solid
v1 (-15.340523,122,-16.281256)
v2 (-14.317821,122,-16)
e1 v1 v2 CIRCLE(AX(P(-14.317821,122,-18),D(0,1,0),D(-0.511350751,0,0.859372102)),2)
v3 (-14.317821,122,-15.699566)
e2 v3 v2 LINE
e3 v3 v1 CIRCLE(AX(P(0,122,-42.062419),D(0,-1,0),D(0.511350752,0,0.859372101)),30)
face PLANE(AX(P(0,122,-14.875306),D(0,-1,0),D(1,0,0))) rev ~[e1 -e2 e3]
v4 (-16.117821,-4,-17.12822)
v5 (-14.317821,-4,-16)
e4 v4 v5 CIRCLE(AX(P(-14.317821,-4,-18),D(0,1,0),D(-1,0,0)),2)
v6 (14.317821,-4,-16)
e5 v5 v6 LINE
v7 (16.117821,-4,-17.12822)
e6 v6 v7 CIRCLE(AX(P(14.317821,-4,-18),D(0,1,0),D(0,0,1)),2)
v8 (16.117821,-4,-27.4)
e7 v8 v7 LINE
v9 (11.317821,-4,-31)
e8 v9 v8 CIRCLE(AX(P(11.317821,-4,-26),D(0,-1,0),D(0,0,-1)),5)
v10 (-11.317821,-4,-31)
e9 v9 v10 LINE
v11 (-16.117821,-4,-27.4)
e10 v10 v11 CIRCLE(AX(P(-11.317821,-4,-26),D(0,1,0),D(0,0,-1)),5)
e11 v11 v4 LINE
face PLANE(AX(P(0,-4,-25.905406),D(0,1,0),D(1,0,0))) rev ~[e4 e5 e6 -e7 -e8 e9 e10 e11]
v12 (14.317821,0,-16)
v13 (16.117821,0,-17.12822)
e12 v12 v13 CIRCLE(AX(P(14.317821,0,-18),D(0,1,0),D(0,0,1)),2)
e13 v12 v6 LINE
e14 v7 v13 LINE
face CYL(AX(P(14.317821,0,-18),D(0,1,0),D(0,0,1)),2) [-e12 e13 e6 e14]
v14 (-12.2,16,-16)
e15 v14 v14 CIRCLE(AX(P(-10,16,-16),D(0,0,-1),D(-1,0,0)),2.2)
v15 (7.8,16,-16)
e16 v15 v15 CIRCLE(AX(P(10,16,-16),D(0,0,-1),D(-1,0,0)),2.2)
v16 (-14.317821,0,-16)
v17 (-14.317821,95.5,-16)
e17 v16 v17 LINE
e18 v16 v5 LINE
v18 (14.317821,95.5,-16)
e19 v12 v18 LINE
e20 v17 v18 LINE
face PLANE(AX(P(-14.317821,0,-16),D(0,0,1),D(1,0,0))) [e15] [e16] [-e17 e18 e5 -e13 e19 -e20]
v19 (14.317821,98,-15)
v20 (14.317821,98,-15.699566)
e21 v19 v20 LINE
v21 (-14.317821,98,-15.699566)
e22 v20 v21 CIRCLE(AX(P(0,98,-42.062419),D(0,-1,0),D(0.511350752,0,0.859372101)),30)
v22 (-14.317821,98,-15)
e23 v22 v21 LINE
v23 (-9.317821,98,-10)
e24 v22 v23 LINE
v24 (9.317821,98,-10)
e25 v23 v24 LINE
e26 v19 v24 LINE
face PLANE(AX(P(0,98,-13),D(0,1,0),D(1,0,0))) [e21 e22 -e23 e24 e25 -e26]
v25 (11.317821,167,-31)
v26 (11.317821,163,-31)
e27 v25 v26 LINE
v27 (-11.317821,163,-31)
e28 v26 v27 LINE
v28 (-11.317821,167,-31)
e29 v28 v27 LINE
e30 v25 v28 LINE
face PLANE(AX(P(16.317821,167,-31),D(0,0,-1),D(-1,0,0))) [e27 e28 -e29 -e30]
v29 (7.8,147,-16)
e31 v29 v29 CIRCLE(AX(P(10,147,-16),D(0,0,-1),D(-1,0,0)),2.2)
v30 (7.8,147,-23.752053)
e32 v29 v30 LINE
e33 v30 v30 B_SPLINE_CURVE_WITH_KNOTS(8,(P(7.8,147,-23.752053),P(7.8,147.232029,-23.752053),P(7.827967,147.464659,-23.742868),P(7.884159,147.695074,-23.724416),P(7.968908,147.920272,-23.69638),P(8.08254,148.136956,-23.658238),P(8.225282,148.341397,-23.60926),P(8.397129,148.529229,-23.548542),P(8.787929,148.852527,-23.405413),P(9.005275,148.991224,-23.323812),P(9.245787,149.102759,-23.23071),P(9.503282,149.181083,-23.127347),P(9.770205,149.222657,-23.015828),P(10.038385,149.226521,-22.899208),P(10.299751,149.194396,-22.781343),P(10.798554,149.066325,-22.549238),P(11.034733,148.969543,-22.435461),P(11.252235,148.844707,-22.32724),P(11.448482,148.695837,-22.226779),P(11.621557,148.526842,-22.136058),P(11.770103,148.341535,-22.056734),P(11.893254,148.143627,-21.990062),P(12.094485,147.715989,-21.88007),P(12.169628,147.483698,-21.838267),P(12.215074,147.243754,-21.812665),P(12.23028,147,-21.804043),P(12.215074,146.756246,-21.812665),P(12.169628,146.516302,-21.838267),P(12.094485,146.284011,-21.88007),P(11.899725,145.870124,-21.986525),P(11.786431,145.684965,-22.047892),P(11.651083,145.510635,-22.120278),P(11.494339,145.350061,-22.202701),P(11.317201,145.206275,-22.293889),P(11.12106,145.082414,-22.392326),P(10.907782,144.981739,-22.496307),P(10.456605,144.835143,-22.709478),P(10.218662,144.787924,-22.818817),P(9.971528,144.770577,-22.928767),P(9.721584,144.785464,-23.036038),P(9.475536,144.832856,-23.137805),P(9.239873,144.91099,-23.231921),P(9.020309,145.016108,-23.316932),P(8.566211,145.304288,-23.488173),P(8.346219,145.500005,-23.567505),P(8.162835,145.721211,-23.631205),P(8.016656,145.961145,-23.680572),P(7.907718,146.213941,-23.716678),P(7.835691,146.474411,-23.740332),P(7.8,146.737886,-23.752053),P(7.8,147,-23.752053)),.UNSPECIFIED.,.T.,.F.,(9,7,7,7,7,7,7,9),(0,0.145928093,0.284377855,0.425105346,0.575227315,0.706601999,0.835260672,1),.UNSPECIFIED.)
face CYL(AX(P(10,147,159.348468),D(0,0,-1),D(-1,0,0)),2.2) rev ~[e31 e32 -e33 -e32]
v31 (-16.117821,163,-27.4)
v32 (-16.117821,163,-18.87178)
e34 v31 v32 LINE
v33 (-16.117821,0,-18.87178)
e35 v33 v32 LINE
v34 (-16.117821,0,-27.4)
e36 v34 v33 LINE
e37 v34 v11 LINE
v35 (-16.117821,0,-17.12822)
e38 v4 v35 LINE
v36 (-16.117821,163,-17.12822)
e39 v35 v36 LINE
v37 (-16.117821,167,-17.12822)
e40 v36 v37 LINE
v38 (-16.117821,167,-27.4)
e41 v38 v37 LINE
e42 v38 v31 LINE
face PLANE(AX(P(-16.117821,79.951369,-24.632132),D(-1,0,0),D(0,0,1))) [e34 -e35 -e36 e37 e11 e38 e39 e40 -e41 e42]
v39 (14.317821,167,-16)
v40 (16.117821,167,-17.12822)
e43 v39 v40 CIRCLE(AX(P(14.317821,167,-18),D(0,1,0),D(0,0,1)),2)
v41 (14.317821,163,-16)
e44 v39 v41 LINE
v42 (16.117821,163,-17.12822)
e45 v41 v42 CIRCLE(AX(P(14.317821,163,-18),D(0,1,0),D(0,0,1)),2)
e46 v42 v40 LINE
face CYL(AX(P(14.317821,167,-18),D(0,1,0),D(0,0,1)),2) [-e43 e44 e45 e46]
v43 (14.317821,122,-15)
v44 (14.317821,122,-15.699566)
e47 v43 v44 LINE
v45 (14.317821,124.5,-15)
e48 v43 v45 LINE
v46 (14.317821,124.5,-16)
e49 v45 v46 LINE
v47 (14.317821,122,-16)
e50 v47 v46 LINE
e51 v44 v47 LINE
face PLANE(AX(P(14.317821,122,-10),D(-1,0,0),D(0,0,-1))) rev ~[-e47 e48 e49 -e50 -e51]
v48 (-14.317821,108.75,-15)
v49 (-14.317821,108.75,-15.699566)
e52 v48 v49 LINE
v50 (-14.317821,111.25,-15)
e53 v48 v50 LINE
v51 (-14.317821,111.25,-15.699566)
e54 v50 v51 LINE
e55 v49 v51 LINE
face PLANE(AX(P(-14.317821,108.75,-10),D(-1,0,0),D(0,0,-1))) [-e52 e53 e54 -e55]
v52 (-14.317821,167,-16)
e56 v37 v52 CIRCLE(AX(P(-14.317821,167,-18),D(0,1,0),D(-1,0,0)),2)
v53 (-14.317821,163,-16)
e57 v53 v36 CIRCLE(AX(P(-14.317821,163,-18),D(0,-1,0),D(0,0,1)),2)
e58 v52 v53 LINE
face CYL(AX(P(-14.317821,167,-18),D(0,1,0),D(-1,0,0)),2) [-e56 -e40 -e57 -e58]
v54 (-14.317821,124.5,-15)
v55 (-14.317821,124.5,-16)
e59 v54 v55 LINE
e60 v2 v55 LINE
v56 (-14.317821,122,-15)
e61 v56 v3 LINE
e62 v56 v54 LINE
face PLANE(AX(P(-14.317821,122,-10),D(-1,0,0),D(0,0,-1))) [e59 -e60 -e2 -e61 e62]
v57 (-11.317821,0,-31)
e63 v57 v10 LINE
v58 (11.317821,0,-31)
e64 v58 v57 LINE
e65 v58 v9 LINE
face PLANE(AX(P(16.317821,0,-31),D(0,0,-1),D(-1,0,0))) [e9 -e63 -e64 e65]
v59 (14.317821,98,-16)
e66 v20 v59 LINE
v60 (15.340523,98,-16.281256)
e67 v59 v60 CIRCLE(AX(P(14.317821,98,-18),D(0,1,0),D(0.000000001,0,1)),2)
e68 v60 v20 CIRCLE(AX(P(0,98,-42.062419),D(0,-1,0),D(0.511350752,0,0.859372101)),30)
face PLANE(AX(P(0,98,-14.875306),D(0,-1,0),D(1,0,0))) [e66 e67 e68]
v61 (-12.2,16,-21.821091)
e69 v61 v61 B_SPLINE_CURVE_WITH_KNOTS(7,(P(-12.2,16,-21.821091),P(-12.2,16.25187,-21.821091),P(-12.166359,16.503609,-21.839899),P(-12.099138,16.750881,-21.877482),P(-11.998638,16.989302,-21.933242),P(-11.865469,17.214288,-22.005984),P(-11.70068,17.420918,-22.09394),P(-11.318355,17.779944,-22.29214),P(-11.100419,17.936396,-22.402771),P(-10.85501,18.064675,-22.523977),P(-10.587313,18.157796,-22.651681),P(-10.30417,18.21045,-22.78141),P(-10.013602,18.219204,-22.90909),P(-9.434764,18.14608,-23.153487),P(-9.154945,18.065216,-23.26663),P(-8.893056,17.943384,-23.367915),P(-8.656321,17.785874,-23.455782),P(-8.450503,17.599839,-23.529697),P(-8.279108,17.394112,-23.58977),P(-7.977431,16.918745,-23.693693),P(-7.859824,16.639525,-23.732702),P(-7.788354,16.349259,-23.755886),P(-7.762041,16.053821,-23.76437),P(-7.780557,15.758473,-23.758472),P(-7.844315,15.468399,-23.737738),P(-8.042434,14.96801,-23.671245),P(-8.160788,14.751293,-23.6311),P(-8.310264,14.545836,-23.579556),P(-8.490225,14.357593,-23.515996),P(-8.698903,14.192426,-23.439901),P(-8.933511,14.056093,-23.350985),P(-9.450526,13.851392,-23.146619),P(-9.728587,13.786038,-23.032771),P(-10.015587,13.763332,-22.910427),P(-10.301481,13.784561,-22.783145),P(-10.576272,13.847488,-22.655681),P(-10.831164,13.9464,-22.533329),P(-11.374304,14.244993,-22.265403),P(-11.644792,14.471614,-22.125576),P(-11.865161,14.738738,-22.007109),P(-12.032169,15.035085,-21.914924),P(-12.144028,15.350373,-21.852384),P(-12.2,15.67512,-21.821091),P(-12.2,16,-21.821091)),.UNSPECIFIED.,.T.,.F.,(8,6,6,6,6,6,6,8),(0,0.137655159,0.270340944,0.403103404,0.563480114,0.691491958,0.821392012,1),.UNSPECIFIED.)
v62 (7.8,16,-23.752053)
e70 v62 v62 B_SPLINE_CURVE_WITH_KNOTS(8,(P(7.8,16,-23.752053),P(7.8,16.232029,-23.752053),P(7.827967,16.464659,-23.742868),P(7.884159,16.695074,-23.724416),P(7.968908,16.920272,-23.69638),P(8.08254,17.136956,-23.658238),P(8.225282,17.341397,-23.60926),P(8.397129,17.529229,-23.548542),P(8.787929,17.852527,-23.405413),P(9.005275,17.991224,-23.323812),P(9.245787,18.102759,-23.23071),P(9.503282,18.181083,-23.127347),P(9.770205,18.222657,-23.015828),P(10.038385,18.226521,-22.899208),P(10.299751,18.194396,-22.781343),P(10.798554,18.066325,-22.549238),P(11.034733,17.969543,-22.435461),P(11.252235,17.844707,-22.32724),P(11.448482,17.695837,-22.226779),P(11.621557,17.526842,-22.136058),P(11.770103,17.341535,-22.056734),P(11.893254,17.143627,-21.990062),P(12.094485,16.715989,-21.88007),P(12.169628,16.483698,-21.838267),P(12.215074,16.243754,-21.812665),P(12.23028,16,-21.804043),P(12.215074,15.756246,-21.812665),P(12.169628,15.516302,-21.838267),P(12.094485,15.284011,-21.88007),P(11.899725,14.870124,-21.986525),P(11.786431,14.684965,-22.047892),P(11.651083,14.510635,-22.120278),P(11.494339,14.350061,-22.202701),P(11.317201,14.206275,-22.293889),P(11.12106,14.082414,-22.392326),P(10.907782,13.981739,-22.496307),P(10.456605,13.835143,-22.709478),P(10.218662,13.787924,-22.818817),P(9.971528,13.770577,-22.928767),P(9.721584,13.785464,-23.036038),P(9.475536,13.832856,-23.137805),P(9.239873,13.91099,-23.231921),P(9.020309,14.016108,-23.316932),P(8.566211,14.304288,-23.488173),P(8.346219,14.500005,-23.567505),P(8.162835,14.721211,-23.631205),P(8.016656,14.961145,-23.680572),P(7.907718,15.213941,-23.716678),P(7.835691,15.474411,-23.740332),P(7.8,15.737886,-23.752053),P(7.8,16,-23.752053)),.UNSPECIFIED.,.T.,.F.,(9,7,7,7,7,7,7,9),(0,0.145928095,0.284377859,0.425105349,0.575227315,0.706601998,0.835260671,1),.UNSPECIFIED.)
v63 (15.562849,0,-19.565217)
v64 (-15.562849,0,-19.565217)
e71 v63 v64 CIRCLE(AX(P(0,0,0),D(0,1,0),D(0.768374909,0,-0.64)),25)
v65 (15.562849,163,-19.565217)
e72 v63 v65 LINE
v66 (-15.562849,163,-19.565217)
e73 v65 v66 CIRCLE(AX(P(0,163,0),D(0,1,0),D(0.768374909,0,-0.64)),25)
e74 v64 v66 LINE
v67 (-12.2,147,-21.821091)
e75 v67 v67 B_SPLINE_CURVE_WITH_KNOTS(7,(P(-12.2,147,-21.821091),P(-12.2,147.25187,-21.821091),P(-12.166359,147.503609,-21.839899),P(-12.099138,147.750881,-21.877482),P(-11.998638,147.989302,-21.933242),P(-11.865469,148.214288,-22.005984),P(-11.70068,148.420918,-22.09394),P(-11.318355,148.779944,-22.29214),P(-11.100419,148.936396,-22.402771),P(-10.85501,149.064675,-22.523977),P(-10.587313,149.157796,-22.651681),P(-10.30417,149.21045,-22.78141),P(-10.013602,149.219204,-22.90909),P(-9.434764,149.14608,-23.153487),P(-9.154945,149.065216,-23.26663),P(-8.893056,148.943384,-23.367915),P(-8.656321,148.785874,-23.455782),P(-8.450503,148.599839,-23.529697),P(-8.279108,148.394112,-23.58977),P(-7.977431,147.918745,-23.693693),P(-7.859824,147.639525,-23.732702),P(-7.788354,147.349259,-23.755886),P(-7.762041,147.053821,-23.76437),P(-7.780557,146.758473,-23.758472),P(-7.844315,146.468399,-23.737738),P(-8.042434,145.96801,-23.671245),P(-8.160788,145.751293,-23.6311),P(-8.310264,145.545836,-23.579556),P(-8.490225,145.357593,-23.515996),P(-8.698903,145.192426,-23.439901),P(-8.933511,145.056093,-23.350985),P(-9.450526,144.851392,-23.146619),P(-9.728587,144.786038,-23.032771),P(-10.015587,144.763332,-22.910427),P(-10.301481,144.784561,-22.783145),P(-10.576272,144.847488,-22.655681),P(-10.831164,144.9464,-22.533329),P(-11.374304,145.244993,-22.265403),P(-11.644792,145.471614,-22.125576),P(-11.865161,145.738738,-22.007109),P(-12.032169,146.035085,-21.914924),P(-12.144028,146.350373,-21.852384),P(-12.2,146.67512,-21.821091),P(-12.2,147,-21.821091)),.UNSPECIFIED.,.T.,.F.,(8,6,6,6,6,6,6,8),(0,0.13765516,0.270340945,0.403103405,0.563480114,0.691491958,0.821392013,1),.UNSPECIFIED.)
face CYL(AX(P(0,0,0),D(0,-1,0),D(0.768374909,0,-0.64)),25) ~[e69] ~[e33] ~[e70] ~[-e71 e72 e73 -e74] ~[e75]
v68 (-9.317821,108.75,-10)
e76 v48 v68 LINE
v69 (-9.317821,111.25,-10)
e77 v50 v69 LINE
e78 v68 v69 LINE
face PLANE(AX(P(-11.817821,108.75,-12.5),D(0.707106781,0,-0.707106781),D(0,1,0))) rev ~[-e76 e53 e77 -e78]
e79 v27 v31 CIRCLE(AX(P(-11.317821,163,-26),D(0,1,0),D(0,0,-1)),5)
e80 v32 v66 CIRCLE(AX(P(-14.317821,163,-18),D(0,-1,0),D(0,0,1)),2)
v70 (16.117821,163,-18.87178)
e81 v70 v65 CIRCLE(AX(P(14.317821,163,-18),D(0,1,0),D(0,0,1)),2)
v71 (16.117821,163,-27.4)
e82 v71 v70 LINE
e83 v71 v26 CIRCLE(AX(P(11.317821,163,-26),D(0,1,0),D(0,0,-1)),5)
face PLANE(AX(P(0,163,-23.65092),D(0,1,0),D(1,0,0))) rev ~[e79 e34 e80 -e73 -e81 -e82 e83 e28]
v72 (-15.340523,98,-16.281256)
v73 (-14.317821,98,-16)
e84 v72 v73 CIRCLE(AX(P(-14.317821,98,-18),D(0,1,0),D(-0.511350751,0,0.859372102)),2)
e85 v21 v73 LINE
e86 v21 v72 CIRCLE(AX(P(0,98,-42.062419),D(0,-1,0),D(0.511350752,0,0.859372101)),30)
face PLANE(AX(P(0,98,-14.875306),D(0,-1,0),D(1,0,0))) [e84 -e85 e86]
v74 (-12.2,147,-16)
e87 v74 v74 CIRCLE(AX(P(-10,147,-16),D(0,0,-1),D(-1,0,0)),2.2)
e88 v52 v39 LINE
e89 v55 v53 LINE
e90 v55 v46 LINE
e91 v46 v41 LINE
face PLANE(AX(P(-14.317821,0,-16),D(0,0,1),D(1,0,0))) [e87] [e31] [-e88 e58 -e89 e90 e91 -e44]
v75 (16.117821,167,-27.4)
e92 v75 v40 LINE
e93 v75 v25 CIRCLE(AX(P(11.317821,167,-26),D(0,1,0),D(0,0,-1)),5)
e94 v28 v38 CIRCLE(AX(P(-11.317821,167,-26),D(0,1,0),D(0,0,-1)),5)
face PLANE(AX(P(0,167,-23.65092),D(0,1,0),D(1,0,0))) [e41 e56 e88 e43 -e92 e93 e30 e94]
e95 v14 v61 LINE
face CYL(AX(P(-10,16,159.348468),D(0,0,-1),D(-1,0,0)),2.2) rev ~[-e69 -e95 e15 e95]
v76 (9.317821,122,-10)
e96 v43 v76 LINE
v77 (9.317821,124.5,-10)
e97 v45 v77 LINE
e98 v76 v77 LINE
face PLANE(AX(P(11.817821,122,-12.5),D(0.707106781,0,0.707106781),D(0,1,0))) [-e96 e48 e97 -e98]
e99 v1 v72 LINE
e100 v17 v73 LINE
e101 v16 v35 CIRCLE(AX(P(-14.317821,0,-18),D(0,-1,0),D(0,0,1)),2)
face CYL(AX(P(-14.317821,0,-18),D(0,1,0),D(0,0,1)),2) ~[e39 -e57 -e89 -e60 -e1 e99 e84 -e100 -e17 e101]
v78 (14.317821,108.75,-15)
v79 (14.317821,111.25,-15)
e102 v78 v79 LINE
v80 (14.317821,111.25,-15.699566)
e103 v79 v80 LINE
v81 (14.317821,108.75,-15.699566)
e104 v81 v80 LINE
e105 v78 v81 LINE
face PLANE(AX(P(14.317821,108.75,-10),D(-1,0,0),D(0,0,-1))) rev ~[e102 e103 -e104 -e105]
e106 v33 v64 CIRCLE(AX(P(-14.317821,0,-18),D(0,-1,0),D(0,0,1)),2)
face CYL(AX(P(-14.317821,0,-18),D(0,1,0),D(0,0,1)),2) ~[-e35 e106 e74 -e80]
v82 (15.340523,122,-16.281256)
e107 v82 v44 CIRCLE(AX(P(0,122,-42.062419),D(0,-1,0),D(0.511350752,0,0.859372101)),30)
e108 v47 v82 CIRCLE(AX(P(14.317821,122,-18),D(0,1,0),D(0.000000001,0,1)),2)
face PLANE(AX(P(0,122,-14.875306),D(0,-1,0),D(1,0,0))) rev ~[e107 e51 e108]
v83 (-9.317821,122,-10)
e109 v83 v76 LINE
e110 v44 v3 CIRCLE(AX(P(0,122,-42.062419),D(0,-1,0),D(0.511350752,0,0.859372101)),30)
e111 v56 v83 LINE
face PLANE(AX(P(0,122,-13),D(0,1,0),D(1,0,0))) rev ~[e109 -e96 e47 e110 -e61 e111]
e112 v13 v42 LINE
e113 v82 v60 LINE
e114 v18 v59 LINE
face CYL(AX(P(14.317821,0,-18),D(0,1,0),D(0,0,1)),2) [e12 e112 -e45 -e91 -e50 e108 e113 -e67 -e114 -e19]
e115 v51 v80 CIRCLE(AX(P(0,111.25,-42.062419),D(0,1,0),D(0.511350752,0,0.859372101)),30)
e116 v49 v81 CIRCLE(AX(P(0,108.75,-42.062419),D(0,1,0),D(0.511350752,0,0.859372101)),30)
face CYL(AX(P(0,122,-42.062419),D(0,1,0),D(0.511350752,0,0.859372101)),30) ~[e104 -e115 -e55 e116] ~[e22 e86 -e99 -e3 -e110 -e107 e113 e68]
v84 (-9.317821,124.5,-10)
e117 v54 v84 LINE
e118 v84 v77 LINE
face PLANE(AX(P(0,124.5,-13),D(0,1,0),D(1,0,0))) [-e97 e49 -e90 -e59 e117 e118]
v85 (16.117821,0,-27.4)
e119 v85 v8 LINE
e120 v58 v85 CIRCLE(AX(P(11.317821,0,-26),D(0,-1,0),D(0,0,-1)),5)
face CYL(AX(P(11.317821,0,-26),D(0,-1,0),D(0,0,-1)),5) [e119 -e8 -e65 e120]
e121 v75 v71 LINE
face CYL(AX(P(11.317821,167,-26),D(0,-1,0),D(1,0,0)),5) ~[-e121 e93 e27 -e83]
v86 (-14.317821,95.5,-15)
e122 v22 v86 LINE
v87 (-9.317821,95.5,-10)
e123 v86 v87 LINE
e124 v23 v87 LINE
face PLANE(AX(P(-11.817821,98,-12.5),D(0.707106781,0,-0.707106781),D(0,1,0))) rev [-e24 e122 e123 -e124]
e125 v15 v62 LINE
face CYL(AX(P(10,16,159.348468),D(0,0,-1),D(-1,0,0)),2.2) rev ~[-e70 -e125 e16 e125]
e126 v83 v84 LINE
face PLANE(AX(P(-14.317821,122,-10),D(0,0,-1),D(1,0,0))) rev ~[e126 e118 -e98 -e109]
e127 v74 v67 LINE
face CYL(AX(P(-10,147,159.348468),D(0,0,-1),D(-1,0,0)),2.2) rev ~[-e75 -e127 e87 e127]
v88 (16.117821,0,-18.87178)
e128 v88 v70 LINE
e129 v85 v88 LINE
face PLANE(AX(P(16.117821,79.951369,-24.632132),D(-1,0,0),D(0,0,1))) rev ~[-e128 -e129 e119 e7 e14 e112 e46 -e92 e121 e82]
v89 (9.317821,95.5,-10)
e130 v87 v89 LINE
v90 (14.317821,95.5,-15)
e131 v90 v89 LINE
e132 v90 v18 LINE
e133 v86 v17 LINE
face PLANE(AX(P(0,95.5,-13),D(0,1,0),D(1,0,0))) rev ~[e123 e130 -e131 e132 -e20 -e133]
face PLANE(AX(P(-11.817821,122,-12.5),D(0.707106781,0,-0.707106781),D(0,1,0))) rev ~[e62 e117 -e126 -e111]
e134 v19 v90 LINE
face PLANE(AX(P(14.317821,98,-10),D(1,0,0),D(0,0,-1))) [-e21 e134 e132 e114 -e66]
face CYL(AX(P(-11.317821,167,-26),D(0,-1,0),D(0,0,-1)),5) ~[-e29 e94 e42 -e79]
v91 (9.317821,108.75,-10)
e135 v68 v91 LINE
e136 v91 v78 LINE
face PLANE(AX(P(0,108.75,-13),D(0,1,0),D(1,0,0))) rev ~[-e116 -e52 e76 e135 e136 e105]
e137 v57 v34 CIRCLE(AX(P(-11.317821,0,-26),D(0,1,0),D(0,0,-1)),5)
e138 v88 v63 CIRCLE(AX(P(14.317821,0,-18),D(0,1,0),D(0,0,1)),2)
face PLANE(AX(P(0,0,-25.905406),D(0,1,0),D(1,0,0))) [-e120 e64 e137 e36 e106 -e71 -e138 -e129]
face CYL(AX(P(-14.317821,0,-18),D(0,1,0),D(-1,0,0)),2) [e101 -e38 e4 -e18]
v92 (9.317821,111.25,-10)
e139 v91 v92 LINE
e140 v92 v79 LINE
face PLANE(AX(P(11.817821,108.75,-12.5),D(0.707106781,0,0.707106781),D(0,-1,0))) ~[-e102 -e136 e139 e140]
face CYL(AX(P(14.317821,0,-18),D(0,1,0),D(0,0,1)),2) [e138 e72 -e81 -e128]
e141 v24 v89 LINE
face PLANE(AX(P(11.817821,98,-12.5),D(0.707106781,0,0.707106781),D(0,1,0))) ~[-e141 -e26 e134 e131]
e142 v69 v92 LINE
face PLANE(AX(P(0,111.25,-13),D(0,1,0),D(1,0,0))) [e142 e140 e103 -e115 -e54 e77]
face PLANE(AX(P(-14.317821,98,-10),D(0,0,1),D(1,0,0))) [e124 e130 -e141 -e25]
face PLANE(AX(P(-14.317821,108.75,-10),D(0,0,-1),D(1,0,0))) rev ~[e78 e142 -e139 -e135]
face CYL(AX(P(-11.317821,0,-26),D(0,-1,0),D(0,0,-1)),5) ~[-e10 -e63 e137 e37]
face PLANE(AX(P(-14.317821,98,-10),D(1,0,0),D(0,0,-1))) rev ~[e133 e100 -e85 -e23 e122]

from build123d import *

# Parameters (mm, degrees)
BOSS_EXTRUDE1_DEPTH        = 163
FILLET1_R                  = 2
BOSS_EXTRUDE3_START        = 4
BOSS_EXTRUDE3_DEPTH        = 4
BOSS_EXTRUDE4_START        = -163
BOSS_EXTRUDE4_DEPTH        = 4
FILLET2_R                  = 5
BOSS_EXTRUDE5_START        = -126
BOSS_EXTRUDE5_DEPTH        = 24
SKETCH4_W                  = 28.635642126
SKETCH4_H                  = 6
BOSS_EXTRUDE6_DEPTH        = 2.5
BOSS_EXTRUDE7_START        = -24
SKETCH4_2_W                = 28.635642126
SKETCH4_2_H                = 6
BOSS_EXTRUDE7_DEPTH        = 2.5
BOSS_EXTRUDE8_DEPTH        = 1.25
BOSS_EXTRUDE8_DEPTH_BACK   = 1.25
BOSS_EXTRUDE8_START        = -12
SKETCH4_3_W                = 28.635642126
SKETCH4_3_H                = 6
CHAMFER1_SIZE              = 5
F_4_4_4_4_DIAMETER_HOLE1_D = 4.4
SKETCH7_W                  = 27.737228758
SKETCH7_H                  = 178.87682219
CUT_EXTRUDE1_DEPTH         = 0.2
CUT_EXTRUDE2_START         = -32.635642
SKETCH7_2_W                = 27.737228758
SKETCH7_2_H                = 178.87682219
CUT_EXTRUDE2_DEPTH         = 0.2


with BuildPart() as part:
    # Sketch1 → Boss-Extrude1 (new body)
    with BuildSketch(Plane(origin=(0, 0, 0), x_dir=(1, 0, 0), z_dir=(0, 1, 0))):
        with BuildLine():
            Line((-19.209372712, 16), (19.209372712, 16))
            ThreePointArc((19.209372712, 16), (0, 25), (-19.209372712, 16))
        make_face()
    extrude(amount=BOSS_EXTRUDE1_DEPTH)

    # Fillet1
    fillet1_edges = [part.edges().sort_by_distance(p)[0] for p in [
        (19.209372712, 81.5, -16),
        (-19.209372712, 81.5, -16),
    ]]
    fillet(fillet1_edges, radius=FILLET1_R)

    # Sketch2 → Boss-Extrude3 (add)
    with BuildSketch(Plane(origin=(0, 163, 0), x_dir=(1, 0, 0), z_dir=(0, 1, 0)).offset(BOSS_EXTRUDE3_START)):
        with BuildLine():
            Line((-16.317821063, 31), (-16.317821063, 18))
            ThreePointArc((-16.317821063, 18), (-15.732034626, 16.585786438), (-14.317821063, 16))
            Line((-14.317821063, 16), (14.317821063, 16))
            ThreePointArc((14.317821063, 16), (15.732034626, 16.585786438), (16.317821063, 18))
            Line((16.317821063, 18), (16.317821063, 31))
            Line((16.317821063, 31), (-16.317821063, 31))
        make_face()
    extrude(amount=-BOSS_EXTRUDE3_DEPTH)

    # Sketch2<2> → Boss-Extrude4 (add)
    with BuildSketch(Plane(origin=(0, 163, 0), x_dir=(1, 0, 0), z_dir=(0, 1, 0)).offset(BOSS_EXTRUDE4_START)):
        with BuildLine():
            Line((16.317821063, 31), (-16.317821063, 31))
            Line((-16.317821063, 31), (-16.317821063, 18))
            ThreePointArc((-16.317821063, 18), (-16.119217166, 18.868891294), (-15.562848982, 19.565217391))
            ThreePointArc((-15.562848982, 19.565217391), (0, 25), (15.562848982, 19.565217391))
            ThreePointArc((15.562848982, 19.565217391), (16.119217166, 18.868891294), (16.317821063, 18))
            Line((16.317821063, 18), (16.317821063, 31))
        make_face()
        with BuildLine():
            ThreePointArc((-15.562848982, 19.565217391), (-16.119217166, 18.868891294), (-16.317821063, 18))
            ThreePointArc((-16.317821063, 18), (-15.732034626, 16.585786438), (-14.317821063, 16))
            Line((-14.317821063, 16), (14.317821063, 16))
            ThreePointArc((14.317821063, 16), (15.732034626, 16.585786438), (16.317821063, 18))
            ThreePointArc((16.317821063, 18), (16.119217166, 18.868891294), (15.562848982, 19.565217391))
            ThreePointArc((15.562848982, 19.565217391), (0, 25), (-15.562848982, 19.565217391))
        make_face()
    extrude(amount=-BOSS_EXTRUDE4_DEPTH)

    # Fillet2
    fillet2_edges = [part.edges().sort_by_distance(p)[0] for p in [
        (16.317821063, 165, -31),
        (-16.317821063, 165, -31),
        (16.317821063, -2, -31),
        (-16.317821063, -2, -31),
    ]]
    fillet(fillet2_edges, radius=FILLET2_R)

    # Sketch3 → Boss-Extrude5 (add)
    with BuildSketch(Plane.XZ.offset(4).offset(BOSS_EXTRUDE5_START)):
        with BuildLine():
            ThreePointArc((15.340522568, -16.281255798), (0, -12.062418831), (-15.340522568, -16.281255798))
            ThreePointArc((-15.340522568, -16.281255798), (-14.848156615, -16.071595426), (-14.317821063, -16))
            Line((-14.317821063, -16), (14.317821063, -16))
            ThreePointArc((14.317821063, -16), (14.848156615, -16.071595426), (15.340522568, -16.281255798))
        make_face()
    extrude(amount=BOSS_EXTRUDE5_DEPTH)

    # Sketch4 → Boss-Extrude6 (add)
    with BuildSketch(Plane(origin=(0, 122, 0), x_dir=(1, 0, 0), z_dir=(0, 1, 0))):
        with Locations((0, 13)):
            Rectangle(SKETCH4_W, SKETCH4_H)
    extrude(amount=BOSS_EXTRUDE6_DEPTH)

    # Sketch4<2> → Boss-Extrude7 (add)
    with BuildSketch(Plane(origin=(0, 122, 0), x_dir=(1, 0, 0), z_dir=(0, 1, 0)).offset(BOSS_EXTRUDE7_START)):
        with Locations((0, 13)):
            Rectangle(SKETCH4_2_W, SKETCH4_2_H)
    extrude(amount=-BOSS_EXTRUDE7_DEPTH)

    # Sketch4<3> → Boss-Extrude8 (add, two sides: drawn at the far end of the back side and taken through both)
    with BuildSketch(Plane(origin=(0, 122, 0), x_dir=(1, 0, 0), z_dir=(0, 1, 0)).offset(BOSS_EXTRUDE8_START - BOSS_EXTRUDE8_DEPTH_BACK)):
        with Locations((0, 13)):
            Rectangle(SKETCH4_3_W, SKETCH4_3_H)
    extrude(amount=BOSS_EXTRUDE8_DEPTH + BOSS_EXTRUDE8_DEPTH_BACK)

    # Chamfer1
    chamfer1_edges = [part.edges().sort_by_distance(p)[0] for p in [
        (-14.317821063, 123.25, -10),
        (14.317821063, 123.25, -10),
        (14.317821063, 96.75, -10),
        (-14.317821063, 96.75, -10),
        (-14.317821063, 110, -10),
        (14.317821063, 110, -10),
    ]]
    chamfer(chamfer1_edges, length=CHAMFER1_SIZE)

    # Ø4.4 (4.4) Diameter Hole1 (through all)
    with Locations(Plane.XY.offset(-16)):
        with Locations((-10, 147), (10, 147), (10, 16), (-10, 16)):
            Hole(F_4_4_4_4_DIAMETER_HOLE1_D / 2)

    # Sketch7 → Cut-Extrude1 (cut)
    with BuildSketch(Plane.ZY.offset(16.317821063)):
        with Locations((-24.632131786, 79.951369179)):
            Rectangle(SKETCH7_W, SKETCH7_H)
    extrude(amount=-CUT_EXTRUDE1_DEPTH, mode=Mode.SUBTRACT)

    # Sketch7<2> → Cut-Extrude2 (cut)
    with BuildSketch(Plane.ZY.offset(16.317821063).offset(CUT_EXTRUDE2_START)):
        with Locations((-24.632131786, 79.951369179)):
            Rectangle(SKETCH7_2_W, SKETCH7_2_H)
    extrude(amount=CUT_EXTRUDE2_DEPTH, mode=Mode.SUBTRACT)


solid = part.part
